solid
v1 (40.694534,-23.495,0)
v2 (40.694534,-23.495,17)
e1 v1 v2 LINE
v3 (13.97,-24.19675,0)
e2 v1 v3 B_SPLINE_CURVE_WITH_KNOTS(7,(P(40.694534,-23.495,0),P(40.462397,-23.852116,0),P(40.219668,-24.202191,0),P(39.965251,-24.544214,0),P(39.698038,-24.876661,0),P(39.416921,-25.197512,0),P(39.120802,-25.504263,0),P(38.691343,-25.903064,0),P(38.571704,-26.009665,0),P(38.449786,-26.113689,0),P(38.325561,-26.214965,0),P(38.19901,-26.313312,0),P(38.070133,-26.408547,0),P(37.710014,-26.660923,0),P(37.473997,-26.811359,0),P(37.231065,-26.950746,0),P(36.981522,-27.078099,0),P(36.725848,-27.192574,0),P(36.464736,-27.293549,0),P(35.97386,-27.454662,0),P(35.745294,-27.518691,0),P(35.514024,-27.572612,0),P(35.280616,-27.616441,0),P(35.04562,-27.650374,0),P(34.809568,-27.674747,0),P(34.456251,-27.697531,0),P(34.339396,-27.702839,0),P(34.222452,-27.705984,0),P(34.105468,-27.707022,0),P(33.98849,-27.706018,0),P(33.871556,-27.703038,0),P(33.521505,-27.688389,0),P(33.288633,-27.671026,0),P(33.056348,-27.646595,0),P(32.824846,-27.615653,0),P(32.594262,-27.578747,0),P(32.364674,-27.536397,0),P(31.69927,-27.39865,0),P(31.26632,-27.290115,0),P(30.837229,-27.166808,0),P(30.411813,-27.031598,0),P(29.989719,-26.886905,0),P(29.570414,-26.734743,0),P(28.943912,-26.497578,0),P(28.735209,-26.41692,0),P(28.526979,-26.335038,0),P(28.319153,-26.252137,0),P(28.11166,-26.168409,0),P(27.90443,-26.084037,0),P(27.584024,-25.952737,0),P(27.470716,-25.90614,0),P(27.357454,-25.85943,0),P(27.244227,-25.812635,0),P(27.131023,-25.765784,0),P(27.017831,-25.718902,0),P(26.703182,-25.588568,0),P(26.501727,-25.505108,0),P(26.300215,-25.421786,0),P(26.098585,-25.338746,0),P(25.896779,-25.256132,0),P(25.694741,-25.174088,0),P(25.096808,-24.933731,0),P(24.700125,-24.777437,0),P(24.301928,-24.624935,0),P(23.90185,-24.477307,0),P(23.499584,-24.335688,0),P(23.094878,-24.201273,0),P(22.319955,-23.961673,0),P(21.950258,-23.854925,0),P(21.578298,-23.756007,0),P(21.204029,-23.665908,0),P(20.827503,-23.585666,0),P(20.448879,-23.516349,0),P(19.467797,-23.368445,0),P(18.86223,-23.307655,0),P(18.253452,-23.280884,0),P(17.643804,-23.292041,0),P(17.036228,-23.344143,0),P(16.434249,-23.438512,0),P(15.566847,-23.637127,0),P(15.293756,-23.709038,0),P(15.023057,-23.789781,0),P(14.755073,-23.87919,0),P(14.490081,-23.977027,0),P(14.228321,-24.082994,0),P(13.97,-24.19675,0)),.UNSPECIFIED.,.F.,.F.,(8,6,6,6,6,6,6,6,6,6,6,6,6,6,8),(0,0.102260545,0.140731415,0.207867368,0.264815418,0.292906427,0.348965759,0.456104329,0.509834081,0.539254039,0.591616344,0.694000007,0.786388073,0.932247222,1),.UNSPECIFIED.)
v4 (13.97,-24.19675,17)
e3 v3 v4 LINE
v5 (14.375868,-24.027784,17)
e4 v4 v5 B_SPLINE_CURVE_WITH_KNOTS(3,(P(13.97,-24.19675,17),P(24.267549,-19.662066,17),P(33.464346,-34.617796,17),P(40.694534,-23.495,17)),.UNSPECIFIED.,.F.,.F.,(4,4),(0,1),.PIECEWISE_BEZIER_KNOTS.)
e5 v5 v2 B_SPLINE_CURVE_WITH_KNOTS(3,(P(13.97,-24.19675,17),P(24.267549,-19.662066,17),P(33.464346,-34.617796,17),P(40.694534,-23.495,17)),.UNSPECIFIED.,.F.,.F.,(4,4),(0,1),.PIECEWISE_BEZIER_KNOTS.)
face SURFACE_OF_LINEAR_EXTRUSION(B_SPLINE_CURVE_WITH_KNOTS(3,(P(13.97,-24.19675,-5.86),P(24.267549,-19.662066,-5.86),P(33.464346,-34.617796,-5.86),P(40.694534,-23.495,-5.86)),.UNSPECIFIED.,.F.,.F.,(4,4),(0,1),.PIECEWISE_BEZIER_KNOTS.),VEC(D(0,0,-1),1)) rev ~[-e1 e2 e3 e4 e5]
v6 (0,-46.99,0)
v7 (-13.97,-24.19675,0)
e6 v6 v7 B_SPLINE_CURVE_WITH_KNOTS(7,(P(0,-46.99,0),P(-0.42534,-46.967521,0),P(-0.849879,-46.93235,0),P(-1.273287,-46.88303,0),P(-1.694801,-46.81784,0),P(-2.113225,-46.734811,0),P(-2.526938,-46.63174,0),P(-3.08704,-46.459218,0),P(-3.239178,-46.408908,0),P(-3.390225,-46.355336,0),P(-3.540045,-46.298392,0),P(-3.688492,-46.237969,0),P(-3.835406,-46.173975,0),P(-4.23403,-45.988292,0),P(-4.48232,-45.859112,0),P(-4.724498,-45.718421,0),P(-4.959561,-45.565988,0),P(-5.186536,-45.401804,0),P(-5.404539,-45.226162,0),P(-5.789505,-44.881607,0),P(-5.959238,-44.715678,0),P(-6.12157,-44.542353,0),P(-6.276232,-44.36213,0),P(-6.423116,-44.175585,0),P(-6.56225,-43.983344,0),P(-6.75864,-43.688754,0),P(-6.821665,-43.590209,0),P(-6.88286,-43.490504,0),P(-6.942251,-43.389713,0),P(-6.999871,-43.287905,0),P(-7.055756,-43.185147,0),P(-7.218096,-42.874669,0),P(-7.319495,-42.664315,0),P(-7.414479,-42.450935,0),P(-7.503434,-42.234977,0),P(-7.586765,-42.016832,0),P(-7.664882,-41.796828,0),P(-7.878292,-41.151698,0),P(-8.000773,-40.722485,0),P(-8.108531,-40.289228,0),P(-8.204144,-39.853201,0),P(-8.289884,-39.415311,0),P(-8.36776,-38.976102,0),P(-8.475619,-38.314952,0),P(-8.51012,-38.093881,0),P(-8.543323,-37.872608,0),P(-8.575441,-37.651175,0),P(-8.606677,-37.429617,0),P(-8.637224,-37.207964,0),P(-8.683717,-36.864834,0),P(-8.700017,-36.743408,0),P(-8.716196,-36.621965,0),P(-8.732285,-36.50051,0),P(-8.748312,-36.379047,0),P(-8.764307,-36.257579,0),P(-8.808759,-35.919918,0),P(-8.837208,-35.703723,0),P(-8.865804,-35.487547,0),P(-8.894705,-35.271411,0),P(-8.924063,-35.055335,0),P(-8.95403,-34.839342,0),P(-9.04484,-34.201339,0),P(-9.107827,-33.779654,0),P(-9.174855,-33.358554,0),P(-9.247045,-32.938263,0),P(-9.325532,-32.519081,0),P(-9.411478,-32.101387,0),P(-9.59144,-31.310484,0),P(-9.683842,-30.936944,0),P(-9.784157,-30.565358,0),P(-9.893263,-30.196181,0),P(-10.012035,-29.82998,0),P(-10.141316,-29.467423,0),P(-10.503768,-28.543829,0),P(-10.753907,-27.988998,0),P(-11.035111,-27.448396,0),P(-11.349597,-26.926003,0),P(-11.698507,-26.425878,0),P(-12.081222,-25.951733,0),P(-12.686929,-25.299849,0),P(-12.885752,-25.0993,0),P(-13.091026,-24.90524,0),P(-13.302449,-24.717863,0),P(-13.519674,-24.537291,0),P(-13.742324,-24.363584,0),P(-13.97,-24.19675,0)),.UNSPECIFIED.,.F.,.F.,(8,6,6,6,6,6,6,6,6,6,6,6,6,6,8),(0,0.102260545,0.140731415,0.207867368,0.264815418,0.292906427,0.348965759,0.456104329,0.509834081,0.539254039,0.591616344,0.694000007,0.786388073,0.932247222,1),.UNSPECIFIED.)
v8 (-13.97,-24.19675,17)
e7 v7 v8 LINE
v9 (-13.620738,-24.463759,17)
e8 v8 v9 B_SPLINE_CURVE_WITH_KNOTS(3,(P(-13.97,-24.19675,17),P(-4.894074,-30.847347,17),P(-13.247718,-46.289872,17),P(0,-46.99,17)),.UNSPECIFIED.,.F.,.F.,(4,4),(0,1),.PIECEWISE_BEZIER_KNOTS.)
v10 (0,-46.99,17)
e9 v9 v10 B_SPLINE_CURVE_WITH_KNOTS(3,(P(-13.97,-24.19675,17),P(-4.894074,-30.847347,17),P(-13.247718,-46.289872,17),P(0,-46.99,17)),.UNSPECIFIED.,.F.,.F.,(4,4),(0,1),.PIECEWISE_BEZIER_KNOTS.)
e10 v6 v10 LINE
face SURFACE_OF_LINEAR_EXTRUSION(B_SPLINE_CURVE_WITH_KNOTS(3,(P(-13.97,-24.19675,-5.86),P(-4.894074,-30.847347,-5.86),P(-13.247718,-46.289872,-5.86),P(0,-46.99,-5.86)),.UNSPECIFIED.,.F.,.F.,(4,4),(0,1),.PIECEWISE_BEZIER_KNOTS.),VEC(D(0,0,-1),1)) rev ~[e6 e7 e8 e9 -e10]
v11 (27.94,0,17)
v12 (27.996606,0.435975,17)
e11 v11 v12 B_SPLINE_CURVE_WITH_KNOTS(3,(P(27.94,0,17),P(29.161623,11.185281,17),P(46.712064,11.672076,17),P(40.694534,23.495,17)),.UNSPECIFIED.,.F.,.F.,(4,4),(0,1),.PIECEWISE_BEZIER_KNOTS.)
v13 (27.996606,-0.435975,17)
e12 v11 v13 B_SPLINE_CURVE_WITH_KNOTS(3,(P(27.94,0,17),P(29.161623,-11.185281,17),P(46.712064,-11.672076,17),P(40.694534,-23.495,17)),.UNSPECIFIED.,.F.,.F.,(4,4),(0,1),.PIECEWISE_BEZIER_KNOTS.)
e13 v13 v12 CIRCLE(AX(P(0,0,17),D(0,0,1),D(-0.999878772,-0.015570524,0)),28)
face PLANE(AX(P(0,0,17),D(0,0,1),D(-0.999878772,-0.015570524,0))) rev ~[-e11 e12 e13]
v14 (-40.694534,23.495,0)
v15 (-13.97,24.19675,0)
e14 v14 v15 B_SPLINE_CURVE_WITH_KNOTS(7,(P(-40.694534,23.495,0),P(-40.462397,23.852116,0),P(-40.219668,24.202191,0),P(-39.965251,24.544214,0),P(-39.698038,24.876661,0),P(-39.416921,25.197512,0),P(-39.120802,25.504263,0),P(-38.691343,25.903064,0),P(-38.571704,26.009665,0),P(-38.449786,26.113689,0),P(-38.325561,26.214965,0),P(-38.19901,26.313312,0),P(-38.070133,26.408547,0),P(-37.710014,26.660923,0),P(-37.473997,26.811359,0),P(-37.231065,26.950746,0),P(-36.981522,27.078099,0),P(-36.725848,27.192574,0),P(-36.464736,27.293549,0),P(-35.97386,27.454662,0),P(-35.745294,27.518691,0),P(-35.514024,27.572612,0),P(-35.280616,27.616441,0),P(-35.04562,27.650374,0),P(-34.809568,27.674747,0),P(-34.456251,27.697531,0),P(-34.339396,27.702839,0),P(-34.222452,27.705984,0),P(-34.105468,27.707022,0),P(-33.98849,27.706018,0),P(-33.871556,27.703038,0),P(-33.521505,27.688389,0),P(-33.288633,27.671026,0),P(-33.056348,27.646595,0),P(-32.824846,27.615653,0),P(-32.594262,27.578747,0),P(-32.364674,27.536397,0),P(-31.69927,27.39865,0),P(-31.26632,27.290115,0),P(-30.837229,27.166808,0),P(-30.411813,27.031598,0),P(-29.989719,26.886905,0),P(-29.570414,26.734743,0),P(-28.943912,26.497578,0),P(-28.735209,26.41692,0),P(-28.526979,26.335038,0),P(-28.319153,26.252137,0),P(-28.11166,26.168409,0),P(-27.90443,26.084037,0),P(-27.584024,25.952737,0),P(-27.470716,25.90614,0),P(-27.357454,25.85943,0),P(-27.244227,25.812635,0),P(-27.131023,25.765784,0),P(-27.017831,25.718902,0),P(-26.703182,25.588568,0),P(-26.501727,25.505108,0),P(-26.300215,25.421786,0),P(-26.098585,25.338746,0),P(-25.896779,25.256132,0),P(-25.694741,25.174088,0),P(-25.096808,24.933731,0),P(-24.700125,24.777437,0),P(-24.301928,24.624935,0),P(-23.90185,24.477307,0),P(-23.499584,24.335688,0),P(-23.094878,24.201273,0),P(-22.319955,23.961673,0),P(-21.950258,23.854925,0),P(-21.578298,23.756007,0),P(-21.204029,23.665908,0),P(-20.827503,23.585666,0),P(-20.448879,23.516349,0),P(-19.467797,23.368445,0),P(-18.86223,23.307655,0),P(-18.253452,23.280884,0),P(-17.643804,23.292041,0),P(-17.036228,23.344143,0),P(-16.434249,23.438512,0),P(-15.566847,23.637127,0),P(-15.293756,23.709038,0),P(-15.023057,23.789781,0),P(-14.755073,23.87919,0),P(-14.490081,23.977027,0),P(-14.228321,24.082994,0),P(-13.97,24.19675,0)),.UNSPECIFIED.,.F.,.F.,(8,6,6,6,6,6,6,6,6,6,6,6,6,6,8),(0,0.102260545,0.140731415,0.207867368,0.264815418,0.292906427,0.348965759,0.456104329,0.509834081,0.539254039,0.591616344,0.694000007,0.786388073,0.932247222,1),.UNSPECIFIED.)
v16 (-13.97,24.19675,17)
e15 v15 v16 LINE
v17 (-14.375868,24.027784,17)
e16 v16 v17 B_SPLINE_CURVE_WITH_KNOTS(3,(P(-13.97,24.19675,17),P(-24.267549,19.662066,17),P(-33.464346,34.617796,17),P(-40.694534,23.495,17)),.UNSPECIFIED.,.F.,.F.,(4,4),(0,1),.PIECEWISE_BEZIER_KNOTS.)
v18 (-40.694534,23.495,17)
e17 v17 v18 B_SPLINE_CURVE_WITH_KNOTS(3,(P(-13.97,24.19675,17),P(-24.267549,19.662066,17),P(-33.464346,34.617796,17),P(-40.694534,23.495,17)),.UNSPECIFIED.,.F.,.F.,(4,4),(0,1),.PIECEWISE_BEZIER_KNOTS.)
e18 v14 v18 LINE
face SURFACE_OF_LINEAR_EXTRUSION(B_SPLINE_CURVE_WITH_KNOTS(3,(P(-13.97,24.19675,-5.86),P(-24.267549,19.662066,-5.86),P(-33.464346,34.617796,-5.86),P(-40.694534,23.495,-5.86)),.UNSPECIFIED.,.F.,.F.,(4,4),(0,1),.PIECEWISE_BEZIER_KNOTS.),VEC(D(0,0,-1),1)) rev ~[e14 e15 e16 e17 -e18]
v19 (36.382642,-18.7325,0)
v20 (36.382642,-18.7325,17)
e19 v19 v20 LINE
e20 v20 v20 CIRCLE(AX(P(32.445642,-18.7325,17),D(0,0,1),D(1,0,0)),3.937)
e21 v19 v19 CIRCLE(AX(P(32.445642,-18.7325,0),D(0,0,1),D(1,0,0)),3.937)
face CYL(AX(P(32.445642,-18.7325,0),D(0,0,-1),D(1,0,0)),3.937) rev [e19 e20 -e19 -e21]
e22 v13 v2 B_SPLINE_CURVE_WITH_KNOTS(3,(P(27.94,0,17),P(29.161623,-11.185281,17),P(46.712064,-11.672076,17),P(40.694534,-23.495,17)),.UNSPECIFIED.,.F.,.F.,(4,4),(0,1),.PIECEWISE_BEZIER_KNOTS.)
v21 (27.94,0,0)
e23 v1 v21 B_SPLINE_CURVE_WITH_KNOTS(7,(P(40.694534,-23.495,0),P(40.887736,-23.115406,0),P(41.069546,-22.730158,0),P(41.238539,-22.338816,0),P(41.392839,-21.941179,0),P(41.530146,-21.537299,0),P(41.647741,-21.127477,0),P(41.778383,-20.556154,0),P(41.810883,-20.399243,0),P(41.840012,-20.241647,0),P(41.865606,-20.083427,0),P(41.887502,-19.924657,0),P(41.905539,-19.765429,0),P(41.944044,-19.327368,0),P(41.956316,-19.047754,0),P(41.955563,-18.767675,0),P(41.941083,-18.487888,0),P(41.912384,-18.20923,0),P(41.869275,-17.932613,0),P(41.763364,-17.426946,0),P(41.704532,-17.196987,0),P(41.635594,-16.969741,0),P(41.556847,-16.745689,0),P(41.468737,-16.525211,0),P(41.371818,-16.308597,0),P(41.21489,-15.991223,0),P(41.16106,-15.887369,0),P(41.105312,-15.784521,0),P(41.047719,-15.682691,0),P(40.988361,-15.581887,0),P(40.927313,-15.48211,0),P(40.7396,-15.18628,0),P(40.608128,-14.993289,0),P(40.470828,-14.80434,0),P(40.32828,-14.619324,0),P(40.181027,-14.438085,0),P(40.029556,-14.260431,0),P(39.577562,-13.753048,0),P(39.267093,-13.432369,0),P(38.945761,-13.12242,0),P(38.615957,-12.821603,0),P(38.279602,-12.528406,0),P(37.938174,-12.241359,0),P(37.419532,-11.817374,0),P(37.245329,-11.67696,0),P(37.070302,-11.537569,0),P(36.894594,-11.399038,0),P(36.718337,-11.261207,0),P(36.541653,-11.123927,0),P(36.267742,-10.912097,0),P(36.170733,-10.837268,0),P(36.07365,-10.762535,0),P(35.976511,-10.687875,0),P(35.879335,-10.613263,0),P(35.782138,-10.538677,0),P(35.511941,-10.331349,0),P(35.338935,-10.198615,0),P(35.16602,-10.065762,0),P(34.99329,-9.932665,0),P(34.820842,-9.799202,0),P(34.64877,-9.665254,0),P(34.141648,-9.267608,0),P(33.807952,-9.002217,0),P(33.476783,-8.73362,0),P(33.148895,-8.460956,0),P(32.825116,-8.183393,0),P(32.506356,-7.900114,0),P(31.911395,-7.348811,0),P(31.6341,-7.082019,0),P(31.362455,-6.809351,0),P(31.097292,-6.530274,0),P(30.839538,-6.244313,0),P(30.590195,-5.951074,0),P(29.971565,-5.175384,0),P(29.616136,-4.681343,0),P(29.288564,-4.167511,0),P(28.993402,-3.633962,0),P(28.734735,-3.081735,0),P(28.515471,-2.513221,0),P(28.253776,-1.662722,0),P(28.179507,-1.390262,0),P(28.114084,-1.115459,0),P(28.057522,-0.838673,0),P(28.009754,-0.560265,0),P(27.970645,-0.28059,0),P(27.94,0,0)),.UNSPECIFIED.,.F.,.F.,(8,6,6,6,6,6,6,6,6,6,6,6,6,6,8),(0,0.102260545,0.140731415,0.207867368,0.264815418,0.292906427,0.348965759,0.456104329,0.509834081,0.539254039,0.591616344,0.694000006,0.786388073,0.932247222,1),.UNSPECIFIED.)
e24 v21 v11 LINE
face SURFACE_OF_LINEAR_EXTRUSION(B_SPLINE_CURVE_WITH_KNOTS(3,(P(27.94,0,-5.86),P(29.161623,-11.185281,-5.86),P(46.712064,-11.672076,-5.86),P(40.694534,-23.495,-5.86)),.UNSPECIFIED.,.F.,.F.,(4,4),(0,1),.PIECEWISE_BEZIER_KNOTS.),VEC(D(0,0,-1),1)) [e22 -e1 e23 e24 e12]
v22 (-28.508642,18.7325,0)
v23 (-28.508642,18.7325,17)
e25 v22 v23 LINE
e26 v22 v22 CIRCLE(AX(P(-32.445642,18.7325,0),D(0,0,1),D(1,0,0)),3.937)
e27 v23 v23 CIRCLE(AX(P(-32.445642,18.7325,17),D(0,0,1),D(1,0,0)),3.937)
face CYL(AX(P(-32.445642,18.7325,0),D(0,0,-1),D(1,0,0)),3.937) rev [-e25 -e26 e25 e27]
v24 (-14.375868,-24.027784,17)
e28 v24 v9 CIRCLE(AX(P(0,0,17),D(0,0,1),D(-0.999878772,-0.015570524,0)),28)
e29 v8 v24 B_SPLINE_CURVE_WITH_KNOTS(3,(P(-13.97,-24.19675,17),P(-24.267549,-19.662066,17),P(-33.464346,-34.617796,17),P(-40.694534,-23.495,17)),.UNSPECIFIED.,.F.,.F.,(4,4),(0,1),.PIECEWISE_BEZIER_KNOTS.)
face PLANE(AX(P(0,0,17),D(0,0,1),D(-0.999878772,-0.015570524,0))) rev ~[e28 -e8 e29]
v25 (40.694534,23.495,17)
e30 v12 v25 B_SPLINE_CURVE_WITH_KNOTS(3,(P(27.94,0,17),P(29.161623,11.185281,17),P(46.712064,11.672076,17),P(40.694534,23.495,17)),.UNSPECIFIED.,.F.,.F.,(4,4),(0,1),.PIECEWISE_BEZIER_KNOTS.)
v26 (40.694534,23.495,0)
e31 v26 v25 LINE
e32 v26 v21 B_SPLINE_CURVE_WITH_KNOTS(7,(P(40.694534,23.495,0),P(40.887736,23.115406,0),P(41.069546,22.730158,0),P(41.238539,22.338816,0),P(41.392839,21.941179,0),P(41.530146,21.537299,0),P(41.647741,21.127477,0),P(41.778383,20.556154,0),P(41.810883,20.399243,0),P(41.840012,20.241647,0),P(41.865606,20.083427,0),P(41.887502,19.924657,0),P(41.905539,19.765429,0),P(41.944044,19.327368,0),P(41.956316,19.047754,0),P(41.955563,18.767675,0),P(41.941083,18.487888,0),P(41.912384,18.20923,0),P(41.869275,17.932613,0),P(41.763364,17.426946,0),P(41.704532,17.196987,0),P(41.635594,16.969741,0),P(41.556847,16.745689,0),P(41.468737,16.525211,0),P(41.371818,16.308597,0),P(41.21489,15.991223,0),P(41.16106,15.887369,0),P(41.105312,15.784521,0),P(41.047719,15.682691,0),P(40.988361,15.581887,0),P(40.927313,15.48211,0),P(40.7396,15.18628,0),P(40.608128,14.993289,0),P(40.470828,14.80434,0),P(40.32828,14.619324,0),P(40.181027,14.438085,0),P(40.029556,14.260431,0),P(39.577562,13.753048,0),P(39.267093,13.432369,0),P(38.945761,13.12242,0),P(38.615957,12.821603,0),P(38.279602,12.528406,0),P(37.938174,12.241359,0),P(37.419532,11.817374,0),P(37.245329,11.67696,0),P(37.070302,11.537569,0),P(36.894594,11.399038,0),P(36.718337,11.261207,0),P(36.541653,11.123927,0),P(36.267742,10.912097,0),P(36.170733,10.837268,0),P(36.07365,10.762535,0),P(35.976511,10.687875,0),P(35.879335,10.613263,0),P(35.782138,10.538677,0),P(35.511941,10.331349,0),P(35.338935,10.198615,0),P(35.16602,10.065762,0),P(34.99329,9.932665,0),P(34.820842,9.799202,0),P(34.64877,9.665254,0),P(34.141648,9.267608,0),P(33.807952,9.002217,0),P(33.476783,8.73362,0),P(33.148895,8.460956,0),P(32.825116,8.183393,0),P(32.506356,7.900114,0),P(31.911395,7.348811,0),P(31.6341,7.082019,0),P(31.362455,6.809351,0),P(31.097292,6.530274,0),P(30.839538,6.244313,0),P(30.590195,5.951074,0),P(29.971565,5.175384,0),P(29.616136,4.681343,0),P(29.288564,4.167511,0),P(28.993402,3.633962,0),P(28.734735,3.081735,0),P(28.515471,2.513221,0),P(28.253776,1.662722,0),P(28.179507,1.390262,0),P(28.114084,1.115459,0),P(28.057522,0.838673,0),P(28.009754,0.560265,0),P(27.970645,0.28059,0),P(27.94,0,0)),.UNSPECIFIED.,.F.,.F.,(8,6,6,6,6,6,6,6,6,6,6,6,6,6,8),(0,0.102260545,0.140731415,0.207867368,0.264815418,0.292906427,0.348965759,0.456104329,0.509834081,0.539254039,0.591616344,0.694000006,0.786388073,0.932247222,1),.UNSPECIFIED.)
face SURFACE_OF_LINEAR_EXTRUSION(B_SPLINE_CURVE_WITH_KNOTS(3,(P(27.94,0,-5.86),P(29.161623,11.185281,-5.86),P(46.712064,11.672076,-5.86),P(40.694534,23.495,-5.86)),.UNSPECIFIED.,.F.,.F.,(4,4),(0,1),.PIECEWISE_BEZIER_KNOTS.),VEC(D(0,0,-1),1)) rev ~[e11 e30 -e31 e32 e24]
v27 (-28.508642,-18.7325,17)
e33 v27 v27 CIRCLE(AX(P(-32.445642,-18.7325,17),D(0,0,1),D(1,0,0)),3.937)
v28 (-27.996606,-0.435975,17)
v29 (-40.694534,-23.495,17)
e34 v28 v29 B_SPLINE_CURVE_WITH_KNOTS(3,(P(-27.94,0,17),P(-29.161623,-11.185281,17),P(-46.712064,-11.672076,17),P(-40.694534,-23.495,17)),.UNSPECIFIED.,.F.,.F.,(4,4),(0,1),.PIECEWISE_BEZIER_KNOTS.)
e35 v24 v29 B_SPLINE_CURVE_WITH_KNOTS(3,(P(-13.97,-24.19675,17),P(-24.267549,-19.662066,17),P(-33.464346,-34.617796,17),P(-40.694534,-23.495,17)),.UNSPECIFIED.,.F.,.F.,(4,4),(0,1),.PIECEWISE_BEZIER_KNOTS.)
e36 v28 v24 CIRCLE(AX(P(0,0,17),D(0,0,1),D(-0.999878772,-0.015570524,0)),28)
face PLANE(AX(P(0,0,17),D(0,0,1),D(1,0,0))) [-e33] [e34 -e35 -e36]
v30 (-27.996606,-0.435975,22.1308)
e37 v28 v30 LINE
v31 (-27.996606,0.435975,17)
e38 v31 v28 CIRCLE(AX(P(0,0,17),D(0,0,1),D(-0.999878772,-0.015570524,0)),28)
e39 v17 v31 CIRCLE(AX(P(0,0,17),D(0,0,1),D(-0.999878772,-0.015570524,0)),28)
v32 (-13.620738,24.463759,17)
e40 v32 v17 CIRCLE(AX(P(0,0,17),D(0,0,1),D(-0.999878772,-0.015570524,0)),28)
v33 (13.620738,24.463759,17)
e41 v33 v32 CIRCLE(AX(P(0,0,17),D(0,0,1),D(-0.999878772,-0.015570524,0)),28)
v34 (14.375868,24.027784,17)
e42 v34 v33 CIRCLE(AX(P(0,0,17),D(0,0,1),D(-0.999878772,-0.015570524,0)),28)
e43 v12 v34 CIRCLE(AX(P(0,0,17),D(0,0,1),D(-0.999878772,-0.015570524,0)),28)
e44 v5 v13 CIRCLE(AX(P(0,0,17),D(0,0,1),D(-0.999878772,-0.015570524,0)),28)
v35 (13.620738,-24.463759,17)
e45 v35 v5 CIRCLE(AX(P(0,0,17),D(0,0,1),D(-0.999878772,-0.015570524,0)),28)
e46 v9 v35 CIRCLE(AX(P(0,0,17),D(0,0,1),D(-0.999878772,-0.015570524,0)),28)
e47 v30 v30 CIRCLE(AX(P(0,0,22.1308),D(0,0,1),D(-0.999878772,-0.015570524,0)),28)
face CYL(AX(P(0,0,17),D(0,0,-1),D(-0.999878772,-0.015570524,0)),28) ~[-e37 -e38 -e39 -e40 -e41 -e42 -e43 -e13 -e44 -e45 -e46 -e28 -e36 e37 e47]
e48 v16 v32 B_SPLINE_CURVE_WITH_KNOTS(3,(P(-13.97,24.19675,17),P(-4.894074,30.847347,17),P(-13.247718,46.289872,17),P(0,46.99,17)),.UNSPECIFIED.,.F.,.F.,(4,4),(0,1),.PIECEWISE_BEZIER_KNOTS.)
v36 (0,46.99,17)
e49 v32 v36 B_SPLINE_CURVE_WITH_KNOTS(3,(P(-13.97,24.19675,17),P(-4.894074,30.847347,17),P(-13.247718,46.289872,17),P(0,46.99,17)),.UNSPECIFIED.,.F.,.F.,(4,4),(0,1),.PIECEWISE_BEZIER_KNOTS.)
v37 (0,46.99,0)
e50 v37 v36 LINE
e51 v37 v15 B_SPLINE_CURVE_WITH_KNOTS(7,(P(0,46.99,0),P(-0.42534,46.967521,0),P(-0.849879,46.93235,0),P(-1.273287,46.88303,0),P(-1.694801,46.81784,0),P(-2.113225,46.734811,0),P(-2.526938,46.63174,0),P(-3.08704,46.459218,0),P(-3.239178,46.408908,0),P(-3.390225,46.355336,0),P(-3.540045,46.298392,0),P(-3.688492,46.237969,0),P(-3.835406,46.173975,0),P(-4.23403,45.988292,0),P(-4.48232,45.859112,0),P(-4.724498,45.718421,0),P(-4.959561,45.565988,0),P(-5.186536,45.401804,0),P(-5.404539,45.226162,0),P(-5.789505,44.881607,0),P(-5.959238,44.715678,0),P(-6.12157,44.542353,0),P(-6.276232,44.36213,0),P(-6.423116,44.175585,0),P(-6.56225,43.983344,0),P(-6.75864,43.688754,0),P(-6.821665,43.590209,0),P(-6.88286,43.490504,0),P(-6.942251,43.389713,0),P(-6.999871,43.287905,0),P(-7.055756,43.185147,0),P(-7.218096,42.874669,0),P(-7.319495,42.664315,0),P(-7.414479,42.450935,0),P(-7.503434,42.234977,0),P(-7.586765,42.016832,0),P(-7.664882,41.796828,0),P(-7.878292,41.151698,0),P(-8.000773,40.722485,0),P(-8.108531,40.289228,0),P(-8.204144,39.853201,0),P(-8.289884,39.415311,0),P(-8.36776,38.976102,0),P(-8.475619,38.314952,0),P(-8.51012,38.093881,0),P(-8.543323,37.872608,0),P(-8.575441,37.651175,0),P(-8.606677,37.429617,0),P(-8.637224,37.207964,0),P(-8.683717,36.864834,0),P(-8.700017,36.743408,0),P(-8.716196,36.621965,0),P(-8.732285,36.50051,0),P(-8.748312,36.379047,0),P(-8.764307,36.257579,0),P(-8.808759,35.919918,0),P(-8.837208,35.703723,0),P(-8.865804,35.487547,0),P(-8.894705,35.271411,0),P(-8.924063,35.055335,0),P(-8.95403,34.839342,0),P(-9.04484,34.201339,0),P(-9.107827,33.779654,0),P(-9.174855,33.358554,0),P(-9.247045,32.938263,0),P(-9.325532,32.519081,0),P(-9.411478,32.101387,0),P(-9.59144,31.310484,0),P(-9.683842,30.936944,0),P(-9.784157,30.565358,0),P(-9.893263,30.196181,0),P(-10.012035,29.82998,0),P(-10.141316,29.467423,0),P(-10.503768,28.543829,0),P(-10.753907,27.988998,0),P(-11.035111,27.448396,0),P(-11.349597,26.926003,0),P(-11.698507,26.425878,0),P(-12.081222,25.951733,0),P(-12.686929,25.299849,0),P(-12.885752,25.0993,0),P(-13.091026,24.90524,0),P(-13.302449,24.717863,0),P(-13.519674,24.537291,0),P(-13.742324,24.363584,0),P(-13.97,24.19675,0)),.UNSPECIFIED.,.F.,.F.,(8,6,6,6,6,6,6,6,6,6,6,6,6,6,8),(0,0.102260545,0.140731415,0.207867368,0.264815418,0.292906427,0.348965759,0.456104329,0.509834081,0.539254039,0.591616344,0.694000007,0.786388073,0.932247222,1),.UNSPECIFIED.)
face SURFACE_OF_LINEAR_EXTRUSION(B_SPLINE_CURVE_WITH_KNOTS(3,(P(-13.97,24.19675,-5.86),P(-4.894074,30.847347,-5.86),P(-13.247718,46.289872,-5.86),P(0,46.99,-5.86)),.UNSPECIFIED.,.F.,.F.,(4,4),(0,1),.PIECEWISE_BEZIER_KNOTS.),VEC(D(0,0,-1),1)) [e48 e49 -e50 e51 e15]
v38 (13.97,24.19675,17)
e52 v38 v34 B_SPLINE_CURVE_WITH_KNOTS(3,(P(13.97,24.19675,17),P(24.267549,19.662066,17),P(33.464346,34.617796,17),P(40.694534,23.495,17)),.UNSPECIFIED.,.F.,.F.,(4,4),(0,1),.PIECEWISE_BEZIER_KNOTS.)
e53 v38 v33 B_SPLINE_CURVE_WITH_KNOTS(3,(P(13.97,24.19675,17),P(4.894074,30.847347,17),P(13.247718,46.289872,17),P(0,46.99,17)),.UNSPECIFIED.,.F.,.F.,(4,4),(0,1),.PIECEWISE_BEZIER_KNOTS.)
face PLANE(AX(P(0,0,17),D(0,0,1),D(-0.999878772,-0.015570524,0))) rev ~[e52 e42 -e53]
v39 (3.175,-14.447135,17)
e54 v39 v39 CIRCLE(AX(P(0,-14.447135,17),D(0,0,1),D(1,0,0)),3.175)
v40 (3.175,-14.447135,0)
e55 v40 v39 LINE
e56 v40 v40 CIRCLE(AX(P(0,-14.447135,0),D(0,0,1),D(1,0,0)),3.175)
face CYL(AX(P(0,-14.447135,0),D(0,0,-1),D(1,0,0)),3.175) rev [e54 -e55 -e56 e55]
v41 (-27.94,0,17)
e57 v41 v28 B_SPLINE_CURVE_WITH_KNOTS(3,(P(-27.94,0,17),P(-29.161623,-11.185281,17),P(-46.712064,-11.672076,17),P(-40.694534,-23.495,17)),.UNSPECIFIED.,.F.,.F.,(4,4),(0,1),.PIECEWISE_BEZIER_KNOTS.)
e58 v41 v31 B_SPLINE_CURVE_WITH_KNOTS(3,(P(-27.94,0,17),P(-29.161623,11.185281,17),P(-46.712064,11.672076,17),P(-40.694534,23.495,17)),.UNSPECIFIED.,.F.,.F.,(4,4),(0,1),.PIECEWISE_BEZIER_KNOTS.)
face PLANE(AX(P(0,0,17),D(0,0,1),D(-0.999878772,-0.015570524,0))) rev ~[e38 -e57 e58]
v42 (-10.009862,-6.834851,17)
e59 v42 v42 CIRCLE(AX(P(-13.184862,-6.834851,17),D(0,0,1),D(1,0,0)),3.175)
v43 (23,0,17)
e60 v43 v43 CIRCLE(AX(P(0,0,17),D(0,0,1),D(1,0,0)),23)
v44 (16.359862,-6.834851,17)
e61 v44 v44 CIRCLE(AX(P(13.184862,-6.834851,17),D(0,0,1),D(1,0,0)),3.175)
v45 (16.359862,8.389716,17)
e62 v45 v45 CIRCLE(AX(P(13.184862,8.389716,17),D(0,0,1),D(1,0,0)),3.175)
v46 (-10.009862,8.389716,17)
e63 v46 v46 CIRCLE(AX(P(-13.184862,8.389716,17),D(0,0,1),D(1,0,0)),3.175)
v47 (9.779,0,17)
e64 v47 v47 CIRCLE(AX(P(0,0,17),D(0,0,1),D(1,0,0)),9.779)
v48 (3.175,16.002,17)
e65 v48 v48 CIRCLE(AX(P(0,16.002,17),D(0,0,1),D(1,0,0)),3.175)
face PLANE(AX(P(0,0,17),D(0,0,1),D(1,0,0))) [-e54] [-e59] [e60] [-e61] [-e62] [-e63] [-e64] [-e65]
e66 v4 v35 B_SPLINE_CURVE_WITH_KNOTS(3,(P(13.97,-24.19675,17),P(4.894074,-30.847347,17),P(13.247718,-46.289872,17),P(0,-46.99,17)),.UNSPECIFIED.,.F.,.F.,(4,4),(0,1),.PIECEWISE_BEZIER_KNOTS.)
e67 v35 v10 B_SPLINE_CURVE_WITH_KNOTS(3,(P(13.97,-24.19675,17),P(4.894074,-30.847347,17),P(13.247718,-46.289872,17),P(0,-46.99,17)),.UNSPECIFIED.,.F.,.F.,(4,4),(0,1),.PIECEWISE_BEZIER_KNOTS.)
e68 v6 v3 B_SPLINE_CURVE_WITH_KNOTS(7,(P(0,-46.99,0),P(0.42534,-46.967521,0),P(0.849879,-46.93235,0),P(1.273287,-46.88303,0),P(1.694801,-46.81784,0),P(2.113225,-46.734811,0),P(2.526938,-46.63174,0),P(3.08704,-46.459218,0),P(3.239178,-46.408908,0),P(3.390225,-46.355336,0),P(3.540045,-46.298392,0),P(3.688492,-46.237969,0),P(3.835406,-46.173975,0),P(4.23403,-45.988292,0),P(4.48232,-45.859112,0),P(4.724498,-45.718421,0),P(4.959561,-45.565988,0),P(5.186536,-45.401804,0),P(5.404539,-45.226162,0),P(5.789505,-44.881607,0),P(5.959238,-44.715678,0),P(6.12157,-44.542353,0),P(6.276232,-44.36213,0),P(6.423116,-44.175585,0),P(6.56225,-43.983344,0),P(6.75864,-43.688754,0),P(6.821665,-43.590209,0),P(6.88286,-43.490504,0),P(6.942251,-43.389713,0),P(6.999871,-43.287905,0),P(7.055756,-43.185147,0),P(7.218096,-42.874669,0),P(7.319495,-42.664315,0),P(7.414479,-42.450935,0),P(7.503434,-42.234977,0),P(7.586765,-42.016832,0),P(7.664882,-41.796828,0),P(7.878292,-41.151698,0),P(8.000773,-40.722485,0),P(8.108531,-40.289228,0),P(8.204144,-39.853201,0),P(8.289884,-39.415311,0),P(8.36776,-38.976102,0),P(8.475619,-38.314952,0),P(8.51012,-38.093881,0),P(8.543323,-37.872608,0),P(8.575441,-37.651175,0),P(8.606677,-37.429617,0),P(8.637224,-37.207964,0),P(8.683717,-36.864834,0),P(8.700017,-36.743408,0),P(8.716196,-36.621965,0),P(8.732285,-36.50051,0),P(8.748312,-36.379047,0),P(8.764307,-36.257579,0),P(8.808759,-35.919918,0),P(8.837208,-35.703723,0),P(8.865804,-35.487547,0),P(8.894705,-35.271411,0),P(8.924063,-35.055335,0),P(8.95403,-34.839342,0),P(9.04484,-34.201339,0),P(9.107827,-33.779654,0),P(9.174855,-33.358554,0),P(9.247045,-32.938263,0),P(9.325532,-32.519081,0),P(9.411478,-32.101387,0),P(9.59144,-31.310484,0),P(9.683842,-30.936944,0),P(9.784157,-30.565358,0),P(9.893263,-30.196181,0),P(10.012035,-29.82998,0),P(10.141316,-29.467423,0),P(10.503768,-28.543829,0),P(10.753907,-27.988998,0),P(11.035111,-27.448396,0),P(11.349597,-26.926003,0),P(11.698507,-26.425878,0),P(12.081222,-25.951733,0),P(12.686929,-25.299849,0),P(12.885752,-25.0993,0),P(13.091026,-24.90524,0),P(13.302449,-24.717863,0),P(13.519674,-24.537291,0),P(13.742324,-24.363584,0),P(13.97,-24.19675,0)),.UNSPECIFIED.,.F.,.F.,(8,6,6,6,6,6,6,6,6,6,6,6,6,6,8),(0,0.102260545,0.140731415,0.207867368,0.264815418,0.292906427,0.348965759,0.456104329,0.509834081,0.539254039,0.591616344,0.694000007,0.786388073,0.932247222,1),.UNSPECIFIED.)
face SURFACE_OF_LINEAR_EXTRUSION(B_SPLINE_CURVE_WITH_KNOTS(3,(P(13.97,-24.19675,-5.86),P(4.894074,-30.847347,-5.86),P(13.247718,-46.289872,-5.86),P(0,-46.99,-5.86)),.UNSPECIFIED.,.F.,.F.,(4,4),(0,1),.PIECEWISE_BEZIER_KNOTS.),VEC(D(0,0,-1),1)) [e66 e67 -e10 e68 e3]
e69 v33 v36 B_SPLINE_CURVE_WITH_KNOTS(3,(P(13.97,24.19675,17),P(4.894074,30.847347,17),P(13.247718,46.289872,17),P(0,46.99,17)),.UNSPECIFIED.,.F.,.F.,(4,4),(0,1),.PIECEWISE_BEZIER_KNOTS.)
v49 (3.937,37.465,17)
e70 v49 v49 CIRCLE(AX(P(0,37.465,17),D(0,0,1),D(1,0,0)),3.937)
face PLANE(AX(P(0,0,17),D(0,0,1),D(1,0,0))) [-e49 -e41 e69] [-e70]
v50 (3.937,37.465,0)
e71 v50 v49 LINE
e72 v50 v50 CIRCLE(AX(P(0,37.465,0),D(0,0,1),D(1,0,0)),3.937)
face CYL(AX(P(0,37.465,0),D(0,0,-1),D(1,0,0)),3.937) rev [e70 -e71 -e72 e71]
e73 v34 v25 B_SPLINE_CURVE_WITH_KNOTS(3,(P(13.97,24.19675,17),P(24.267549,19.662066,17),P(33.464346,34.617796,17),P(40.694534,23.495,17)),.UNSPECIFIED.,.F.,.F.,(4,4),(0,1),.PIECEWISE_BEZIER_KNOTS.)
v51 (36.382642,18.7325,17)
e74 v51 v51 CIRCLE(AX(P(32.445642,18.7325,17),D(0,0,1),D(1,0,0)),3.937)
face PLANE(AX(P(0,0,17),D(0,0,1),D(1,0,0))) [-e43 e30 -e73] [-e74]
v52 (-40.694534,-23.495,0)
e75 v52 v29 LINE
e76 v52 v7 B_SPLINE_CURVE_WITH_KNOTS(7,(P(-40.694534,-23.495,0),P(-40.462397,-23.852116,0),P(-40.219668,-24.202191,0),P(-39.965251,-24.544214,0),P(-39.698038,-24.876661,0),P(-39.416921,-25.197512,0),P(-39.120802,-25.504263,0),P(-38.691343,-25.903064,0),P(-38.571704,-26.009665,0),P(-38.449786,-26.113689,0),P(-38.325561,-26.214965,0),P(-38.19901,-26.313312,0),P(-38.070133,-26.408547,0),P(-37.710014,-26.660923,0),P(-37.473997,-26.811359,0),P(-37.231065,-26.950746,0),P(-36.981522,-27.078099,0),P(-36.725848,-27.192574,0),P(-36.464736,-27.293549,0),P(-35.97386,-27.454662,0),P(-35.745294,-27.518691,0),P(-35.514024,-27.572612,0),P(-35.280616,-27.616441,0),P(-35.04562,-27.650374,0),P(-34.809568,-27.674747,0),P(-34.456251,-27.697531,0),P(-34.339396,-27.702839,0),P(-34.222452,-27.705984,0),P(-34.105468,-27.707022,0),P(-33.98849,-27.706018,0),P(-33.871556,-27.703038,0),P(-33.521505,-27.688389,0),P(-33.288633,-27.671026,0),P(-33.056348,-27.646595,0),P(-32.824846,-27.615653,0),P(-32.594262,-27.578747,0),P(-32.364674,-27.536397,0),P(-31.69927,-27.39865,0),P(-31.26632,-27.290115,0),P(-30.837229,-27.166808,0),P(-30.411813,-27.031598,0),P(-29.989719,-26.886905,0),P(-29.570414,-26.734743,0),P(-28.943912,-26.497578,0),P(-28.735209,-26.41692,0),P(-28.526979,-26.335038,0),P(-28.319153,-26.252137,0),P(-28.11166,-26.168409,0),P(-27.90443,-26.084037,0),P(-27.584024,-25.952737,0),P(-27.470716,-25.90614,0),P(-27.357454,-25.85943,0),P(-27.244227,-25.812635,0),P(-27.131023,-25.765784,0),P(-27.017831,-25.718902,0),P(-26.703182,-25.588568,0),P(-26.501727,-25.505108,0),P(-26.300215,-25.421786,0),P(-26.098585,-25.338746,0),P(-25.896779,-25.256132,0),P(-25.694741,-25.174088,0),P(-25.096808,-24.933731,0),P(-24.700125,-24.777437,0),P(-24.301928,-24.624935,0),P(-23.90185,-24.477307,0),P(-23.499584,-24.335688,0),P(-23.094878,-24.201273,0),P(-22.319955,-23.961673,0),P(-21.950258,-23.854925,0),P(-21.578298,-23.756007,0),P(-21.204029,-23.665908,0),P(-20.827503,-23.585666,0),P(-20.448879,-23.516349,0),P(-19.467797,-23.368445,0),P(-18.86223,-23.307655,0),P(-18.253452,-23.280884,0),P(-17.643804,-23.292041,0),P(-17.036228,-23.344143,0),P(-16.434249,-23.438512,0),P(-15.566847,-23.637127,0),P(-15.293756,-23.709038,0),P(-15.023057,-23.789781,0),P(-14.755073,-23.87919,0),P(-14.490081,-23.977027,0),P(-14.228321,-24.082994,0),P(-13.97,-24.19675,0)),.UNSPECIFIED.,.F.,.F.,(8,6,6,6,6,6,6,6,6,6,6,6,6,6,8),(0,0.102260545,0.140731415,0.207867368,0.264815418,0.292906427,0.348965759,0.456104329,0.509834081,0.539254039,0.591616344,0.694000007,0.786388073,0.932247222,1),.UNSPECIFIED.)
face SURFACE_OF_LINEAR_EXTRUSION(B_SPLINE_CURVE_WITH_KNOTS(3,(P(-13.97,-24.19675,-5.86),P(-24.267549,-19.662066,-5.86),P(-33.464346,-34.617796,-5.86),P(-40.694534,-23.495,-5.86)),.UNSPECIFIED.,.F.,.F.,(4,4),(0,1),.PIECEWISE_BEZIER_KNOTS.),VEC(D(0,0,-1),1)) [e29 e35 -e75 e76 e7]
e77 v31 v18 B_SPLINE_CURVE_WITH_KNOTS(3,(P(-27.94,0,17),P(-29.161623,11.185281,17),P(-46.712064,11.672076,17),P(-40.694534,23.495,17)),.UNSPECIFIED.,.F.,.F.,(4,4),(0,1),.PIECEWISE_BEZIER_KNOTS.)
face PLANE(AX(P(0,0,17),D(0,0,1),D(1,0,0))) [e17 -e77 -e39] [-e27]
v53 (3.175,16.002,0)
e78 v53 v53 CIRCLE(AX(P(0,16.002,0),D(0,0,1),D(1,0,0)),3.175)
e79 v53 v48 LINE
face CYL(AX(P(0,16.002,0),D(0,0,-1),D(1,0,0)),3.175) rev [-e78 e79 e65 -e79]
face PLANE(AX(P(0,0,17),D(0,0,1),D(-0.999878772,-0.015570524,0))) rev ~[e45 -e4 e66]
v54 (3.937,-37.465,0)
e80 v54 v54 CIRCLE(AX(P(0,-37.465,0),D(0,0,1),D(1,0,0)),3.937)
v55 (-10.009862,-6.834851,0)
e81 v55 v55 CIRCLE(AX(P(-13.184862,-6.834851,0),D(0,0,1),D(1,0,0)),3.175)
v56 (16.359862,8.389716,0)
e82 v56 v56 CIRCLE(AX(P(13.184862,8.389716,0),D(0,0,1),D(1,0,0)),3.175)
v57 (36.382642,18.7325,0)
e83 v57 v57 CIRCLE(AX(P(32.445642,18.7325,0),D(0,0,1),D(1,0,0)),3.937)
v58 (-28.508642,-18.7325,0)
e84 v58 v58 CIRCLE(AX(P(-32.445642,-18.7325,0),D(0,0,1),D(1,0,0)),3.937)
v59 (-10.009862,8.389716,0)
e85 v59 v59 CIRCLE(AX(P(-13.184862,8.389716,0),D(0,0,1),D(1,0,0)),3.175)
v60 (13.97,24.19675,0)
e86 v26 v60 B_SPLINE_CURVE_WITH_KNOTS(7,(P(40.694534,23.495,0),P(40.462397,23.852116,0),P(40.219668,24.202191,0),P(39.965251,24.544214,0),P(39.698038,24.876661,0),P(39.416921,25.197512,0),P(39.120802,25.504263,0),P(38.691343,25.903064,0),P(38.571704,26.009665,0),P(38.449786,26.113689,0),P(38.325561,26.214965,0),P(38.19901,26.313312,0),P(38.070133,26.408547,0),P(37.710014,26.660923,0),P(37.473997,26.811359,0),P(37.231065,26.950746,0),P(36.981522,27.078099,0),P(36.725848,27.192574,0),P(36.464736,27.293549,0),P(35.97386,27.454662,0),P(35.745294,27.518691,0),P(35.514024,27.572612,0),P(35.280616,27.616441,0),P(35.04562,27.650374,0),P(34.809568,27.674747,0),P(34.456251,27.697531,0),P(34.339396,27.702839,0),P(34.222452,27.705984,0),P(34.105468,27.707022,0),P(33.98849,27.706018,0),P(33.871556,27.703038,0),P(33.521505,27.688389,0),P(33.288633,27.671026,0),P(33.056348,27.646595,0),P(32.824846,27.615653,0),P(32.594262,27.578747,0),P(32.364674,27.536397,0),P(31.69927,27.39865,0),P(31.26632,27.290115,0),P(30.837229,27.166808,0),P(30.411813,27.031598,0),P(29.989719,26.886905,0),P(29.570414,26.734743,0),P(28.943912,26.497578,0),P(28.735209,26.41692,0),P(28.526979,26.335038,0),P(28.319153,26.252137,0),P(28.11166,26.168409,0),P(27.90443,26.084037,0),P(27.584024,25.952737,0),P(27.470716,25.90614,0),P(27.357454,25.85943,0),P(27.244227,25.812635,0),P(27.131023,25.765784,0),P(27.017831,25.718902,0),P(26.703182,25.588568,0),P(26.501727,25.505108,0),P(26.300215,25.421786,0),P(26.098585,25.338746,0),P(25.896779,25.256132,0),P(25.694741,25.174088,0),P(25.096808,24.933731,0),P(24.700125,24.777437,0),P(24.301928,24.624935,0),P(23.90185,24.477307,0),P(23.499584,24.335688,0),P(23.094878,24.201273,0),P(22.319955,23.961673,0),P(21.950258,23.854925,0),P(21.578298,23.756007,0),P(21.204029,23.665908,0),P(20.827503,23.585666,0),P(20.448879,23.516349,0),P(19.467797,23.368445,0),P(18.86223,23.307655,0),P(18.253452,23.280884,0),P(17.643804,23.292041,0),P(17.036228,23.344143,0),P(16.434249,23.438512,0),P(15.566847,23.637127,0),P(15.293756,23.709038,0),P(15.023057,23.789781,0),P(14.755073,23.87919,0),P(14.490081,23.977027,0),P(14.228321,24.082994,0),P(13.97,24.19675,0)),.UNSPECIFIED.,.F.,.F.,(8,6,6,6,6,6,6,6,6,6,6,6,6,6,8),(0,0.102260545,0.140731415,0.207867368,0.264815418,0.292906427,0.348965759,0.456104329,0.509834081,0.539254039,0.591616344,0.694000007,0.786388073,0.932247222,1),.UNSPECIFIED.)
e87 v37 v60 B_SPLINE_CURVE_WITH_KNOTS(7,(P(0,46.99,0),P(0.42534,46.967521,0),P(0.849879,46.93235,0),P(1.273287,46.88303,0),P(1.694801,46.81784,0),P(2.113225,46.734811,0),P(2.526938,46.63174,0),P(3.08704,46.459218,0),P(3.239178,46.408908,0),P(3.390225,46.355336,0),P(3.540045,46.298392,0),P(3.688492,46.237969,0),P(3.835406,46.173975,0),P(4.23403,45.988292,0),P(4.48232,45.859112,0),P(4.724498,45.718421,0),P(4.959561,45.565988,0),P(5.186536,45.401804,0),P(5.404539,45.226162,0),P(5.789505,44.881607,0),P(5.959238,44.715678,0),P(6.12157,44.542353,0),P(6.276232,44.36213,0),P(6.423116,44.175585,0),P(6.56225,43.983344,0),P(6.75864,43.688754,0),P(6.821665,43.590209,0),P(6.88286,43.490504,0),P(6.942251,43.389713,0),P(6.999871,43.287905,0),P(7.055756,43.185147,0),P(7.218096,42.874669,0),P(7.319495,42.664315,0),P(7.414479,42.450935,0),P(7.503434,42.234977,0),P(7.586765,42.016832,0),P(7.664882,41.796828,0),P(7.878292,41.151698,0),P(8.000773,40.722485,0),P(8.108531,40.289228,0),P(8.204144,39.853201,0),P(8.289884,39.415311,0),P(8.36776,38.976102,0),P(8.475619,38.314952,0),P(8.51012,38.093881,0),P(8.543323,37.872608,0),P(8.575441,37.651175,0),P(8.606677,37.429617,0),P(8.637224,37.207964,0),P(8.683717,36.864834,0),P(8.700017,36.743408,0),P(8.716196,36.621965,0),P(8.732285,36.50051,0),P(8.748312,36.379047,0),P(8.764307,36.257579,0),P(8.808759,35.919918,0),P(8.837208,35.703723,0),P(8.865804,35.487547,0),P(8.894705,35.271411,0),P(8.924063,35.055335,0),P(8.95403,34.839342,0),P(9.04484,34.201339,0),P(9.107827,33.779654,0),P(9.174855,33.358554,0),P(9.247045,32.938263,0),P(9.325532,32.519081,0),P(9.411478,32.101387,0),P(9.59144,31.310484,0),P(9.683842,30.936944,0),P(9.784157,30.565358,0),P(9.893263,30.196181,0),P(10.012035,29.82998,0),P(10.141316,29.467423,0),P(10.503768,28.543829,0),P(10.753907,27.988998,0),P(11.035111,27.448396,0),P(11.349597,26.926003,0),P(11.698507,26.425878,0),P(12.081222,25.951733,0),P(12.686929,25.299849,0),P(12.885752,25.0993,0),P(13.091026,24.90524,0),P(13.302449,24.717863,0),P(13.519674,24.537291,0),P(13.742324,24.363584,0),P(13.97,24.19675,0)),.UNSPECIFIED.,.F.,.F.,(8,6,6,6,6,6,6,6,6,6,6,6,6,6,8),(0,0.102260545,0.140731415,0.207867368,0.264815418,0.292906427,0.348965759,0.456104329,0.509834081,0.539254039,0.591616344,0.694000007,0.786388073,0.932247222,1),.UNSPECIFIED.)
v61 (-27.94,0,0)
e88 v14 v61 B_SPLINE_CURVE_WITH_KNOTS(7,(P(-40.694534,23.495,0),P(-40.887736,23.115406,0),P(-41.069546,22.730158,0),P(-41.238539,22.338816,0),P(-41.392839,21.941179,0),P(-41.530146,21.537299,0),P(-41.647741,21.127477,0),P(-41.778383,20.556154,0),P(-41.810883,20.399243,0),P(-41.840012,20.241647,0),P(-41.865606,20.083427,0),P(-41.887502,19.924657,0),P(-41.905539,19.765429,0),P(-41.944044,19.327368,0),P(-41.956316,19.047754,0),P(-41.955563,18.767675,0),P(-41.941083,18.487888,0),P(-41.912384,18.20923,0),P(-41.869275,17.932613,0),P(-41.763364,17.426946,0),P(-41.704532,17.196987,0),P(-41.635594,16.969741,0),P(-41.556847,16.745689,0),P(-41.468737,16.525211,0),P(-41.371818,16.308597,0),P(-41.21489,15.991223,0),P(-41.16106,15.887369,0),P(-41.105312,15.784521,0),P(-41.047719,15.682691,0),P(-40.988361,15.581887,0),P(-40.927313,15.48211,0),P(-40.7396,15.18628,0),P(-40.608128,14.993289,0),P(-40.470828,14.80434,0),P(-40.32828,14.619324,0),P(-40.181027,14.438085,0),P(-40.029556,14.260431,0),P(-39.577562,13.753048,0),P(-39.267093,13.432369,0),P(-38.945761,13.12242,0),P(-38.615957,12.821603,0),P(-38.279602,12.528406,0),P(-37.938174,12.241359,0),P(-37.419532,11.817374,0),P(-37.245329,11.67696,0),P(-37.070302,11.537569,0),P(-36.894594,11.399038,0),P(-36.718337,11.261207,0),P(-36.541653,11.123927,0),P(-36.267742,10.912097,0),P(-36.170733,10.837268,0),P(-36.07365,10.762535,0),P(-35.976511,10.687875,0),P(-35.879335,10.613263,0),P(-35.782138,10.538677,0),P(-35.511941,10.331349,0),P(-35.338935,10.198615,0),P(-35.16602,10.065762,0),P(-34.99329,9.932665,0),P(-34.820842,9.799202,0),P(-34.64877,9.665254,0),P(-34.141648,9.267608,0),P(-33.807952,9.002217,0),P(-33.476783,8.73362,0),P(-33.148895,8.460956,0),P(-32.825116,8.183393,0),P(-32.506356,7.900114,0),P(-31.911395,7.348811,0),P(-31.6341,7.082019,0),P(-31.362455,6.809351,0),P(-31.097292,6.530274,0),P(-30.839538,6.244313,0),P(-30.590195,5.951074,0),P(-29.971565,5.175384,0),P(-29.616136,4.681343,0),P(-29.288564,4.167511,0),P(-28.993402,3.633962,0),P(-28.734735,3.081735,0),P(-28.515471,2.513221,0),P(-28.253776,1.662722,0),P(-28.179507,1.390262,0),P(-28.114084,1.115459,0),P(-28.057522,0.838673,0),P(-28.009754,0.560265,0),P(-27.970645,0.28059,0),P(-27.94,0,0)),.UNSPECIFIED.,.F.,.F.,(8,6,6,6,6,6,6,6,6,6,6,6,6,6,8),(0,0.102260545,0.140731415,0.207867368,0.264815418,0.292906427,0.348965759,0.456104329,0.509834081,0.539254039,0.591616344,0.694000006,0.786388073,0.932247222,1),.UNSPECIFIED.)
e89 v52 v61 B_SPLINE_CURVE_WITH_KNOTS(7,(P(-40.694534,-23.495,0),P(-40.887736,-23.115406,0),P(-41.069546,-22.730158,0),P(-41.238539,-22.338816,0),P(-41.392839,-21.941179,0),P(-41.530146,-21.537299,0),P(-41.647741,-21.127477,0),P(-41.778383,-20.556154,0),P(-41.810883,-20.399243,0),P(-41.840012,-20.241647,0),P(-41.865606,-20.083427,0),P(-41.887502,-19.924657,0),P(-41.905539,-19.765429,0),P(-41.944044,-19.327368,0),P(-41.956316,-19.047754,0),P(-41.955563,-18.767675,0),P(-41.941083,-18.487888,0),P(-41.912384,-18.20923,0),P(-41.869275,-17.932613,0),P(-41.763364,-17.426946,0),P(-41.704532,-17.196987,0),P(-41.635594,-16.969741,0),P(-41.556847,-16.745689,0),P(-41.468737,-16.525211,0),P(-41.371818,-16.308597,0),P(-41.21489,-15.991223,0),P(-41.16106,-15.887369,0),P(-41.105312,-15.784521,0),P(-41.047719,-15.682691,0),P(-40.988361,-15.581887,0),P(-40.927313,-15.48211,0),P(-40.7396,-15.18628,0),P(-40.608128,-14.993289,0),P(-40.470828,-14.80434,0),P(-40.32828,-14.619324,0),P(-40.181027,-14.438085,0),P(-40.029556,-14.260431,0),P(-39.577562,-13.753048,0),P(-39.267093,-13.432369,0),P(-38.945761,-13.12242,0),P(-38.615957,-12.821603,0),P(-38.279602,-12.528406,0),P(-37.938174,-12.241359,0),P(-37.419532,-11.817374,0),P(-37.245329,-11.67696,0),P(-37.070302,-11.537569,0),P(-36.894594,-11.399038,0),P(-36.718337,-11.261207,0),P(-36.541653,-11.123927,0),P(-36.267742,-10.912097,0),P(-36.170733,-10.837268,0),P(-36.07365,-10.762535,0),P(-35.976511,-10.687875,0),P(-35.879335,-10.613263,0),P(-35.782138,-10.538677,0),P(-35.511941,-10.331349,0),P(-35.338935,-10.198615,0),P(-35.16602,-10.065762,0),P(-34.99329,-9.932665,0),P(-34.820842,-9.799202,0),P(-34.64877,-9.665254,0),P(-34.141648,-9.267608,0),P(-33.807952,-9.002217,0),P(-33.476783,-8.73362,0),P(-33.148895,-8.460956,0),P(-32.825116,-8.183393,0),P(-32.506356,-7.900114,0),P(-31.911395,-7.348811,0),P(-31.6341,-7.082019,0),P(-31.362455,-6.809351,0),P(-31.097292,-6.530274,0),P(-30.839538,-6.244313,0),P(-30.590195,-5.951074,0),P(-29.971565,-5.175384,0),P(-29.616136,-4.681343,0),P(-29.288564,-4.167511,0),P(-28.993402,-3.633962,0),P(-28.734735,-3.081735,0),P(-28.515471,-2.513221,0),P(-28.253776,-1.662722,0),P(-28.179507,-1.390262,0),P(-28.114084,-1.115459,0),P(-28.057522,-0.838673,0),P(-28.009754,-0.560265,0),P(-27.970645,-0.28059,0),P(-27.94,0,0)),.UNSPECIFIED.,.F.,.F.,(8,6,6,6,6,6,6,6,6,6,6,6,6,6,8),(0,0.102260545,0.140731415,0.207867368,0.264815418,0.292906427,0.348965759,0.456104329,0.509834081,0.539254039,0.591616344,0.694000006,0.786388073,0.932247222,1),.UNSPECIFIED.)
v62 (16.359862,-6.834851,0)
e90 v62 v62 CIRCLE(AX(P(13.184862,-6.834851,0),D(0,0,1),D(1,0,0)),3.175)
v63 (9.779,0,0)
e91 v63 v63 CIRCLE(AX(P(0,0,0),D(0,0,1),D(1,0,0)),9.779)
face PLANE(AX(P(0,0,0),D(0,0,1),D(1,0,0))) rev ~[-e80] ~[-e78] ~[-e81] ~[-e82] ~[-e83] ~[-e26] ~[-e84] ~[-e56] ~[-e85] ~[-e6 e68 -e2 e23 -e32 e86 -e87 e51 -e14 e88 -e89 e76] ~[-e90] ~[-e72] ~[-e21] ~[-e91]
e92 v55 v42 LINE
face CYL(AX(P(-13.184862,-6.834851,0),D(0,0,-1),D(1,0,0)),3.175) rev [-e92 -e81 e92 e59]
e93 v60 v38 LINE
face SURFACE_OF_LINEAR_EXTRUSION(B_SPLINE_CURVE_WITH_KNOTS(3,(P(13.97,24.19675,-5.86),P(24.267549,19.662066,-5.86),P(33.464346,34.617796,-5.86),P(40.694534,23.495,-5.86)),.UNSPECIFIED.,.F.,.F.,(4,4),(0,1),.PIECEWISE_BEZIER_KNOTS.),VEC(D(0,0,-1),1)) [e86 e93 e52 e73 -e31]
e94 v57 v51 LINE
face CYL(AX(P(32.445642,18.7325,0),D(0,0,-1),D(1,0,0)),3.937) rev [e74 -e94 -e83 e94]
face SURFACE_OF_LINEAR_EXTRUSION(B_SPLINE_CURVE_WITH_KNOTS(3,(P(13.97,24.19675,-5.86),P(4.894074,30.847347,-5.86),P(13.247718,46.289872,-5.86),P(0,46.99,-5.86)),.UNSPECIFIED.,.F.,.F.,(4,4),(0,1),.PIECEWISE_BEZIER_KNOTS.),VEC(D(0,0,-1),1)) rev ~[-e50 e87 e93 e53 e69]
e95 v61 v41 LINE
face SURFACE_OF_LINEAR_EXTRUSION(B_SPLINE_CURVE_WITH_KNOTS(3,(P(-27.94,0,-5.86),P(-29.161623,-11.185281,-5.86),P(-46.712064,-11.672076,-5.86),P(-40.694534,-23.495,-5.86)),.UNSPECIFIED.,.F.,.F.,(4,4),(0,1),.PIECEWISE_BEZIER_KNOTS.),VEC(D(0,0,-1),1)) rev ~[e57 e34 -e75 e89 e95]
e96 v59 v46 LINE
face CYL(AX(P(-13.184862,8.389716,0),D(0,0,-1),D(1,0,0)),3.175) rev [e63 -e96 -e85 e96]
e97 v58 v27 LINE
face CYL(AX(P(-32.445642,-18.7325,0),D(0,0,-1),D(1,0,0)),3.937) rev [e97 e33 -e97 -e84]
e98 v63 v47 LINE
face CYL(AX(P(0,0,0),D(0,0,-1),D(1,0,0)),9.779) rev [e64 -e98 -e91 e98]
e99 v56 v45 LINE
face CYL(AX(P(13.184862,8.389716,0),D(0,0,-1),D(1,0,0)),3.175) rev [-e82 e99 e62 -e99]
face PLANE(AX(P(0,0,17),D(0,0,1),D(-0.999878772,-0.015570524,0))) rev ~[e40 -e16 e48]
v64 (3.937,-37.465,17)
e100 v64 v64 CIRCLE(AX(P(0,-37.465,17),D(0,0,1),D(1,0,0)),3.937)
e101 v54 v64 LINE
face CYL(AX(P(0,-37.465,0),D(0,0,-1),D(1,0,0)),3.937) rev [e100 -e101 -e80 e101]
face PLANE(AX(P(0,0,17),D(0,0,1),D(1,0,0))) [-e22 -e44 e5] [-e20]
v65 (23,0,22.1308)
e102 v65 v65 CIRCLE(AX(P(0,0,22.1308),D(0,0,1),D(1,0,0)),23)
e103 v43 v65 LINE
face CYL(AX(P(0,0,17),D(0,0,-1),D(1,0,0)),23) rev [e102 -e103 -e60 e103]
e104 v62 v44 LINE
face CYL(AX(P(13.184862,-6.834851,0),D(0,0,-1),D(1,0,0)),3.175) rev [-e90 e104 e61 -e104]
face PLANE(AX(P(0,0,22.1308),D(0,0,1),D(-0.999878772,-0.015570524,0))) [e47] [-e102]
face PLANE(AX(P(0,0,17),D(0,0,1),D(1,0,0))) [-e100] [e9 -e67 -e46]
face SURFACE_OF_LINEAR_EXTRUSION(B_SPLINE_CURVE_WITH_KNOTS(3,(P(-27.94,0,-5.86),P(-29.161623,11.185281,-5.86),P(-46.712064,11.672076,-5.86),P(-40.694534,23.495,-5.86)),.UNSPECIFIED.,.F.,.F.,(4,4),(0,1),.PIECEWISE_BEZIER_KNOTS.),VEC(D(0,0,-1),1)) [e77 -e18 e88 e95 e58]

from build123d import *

# Parameters (mm, degrees)
SKETCH1_R           = 46.99
SKETCH1_R_2         = 9.779
SKETCH1_R_3         = 3.175
SKETCH1_R_4         = 3.937
BOSS_EXTRUDE3_DEPTH = 17.000000036
CUT_EXTRUDE1_START  = -22.86
CUT_EXTRUDE1_DEPTH  = 22.86
SKETCH4_R           = 28
SKETCH4_R_2         = 23
BOSS_EXTRUDE4_DEPTH = 5.1308


with BuildPart() as part:
    # Sketch1 → Boss-Extrude3 (new body)
    with BuildSketch(Plane.XY):
        Circle(SKETCH1_R)
        Circle(SKETCH1_R_2, mode=Mode.SUBTRACT)
        with Locations((0, 16.002)):
            Circle(SKETCH1_R_3, mode=Mode.SUBTRACT)
        with Locations((13.184862266, 8.389716222)):
            Circle(SKETCH1_R_3, mode=Mode.SUBTRACT)
        with Locations((13.184862266, -6.834851335)):
            Circle(SKETCH1_R_3, mode=Mode.SUBTRACT)
        with Locations((0, -14.447135113)):
            Circle(SKETCH1_R_3, mode=Mode.SUBTRACT)
        with Locations((-13.184862266, -6.834851335)):
            Circle(SKETCH1_R_3, mode=Mode.SUBTRACT)
        with Locations((-13.184862266, 8.389716222)):
            Circle(SKETCH1_R_3, mode=Mode.SUBTRACT)
        with Locations((0, 37.465)):
            Circle(SKETCH1_R_4, mode=Mode.SUBTRACT)
        with Locations((32.445641753, 18.7325)):
            Circle(SKETCH1_R_4, mode=Mode.SUBTRACT)
        with Locations((32.445641753, -18.7325)):
            Circle(SKETCH1_R_4, mode=Mode.SUBTRACT)
        with Locations((0, -37.465)):
            Circle(SKETCH1_R_4, mode=Mode.SUBTRACT)
        with Locations((-32.445641753, -18.7325)):
            Circle(SKETCH1_R_4, mode=Mode.SUBTRACT)
        with Locations((-32.445641753, 18.7325)):
            Circle(SKETCH1_R_4, mode=Mode.SUBTRACT)
    extrude(amount=BOSS_EXTRUDE3_DEPTH)

    # Sketch2 → Cut-Extrude1 (cut)
    with BuildSketch(Plane.XY.offset(17.000000036).offset(CUT_EXTRUDE1_START)):
        with BuildLine():
            add(Edge.make_bspline(
                [(13.97, 24.196749782), (24.267548566, 19.662066064), (33.464346328, 34.617796024), (40.694533724, 23.495)],
                knots=[0, 0, 0, 0, 1, 1, 1, 1], degree=3))
            ThreePointArc((40.694533724, 23.495), (23.495, 40.694533724), (0, 46.99))
            add(Edge.make_bspline(
                [(13.97, 24.196749782), (4.894074419, 30.847346578), (13.247717616, 46.289872053), (0, 46.99)],
                knots=[0, 0, 0, 0, 1, 1, 1, 1], degree=3))
        make_face()
        with BuildLine():
            add(Edge.make_bspline(
                [(-27.94, 0), (-29.161622986, 11.185280514), (-46.712063944, 11.672076029), (-40.694533724, 23.495)],
                knots=[0, 0, 0, 0, 1, 1, 1, 1], degree=3))
            ThreePointArc((-40.694533724, 23.495), (-46.99, 0), (-40.694533724, -23.495))
            add(Edge.make_bspline(
                [(-27.94, 0), (-29.161622986, -11.185280514), (-46.712063944, -11.672076029), (-40.694533724, -23.495)],
                knots=[0, 0, 0, 0, 1, 1, 1, 1], degree=3))
        make_face()
        with BuildLine():
            ThreePointArc((40.694533724, -23.495), (45.388854577, -12.161906929), (46.99, 0))
            ThreePointArc((46.99, 0), (45.388854577, 12.161906929), (40.694533724, 23.495))
            add(Edge.make_bspline(
                [(27.94, 0), (29.161622986, 11.185280514), (46.712063944, 11.672076029), (40.694533724, 23.495)],
                knots=[0, 0, 0, 0, 1, 1, 1, 1], degree=3))
            add(Edge.make_bspline(
                [(27.94, 0), (29.161622986, -11.185280514), (46.712063944, -11.672076029), (40.694533724, -23.495)],
                knots=[0, 0, 0, 0, 1, 1, 1, 1], degree=3))
        make_face()
        with BuildLine():
            ThreePointArc((0, -46.99), (23.495, -40.694533724), (40.694533724, -23.495))
            add(Edge.make_bspline(
                [(13.97, -24.196749782), (24.267548566, -19.662066064), (33.464346328, -34.617796024), (40.694533724, -23.495)],
                knots=[0, 0, 0, 0, 1, 1, 1, 1], degree=3))
            add(Edge.make_bspline(
                [(13.97, -24.196749782), (4.894074419, -30.847346578), (13.247717616, -46.289872053), (0, -46.99)],
                knots=[0, 0, 0, 0, 1, 1, 1, 1], degree=3))
        make_face()
        with BuildLine():
            ThreePointArc((-40.694533724, -23.495), (-23.495, -40.694533724), (0, -46.99))
            add(Edge.make_bspline(
                [(-13.97, -24.196749782), (-4.894074419, -30.847346578), (-13.247717616, -46.289872053), (0, -46.99)],
                knots=[0, 0, 0, 0, 1, 1, 1, 1], degree=3))
            add(Edge.make_bspline(
                [(-13.97, -24.196749782), (-24.267548566, -19.662066064), (-33.464346328, -34.617796024), (-40.694533724, -23.495)],
                knots=[0, 0, 0, 0, 1, 1, 1, 1], degree=3))
        make_face()
        with BuildLine():
            add(Edge.make_bspline(
                [(-13.97, 24.196749782), (-4.894074419, 30.847346578), (-13.247717616, 46.289872053), (0, 46.99)],
                knots=[0, 0, 0, 0, 1, 1, 1, 1], degree=3))
            ThreePointArc((0, 46.99), (-23.495, 40.694533724), (-40.694533724, 23.495))
            add(Edge.make_bspline(
                [(-13.97, 24.196749782), (-24.267548566, 19.662066064), (-33.464346328, 34.617796024), (-40.694533724, 23.495)],
                knots=[0, 0, 0, 0, 1, 1, 1, 1], degree=3))
        make_face()
    extrude(amount=CUT_EXTRUDE1_DEPTH, mode=Mode.SUBTRACT)

    # Sketch4 → Boss-Extrude4 (add)
    with BuildSketch(Plane.XY.offset(17.000000036)):
        with Locations(Location((0, 0, 0), (0, 0, 180.892161373))):
            Circle(SKETCH4_R)
        Circle(SKETCH4_R_2, mode=Mode.SUBTRACT)
    extrude(amount=BOSS_EXTRUDE4_DEPTH)


solid = part.part
